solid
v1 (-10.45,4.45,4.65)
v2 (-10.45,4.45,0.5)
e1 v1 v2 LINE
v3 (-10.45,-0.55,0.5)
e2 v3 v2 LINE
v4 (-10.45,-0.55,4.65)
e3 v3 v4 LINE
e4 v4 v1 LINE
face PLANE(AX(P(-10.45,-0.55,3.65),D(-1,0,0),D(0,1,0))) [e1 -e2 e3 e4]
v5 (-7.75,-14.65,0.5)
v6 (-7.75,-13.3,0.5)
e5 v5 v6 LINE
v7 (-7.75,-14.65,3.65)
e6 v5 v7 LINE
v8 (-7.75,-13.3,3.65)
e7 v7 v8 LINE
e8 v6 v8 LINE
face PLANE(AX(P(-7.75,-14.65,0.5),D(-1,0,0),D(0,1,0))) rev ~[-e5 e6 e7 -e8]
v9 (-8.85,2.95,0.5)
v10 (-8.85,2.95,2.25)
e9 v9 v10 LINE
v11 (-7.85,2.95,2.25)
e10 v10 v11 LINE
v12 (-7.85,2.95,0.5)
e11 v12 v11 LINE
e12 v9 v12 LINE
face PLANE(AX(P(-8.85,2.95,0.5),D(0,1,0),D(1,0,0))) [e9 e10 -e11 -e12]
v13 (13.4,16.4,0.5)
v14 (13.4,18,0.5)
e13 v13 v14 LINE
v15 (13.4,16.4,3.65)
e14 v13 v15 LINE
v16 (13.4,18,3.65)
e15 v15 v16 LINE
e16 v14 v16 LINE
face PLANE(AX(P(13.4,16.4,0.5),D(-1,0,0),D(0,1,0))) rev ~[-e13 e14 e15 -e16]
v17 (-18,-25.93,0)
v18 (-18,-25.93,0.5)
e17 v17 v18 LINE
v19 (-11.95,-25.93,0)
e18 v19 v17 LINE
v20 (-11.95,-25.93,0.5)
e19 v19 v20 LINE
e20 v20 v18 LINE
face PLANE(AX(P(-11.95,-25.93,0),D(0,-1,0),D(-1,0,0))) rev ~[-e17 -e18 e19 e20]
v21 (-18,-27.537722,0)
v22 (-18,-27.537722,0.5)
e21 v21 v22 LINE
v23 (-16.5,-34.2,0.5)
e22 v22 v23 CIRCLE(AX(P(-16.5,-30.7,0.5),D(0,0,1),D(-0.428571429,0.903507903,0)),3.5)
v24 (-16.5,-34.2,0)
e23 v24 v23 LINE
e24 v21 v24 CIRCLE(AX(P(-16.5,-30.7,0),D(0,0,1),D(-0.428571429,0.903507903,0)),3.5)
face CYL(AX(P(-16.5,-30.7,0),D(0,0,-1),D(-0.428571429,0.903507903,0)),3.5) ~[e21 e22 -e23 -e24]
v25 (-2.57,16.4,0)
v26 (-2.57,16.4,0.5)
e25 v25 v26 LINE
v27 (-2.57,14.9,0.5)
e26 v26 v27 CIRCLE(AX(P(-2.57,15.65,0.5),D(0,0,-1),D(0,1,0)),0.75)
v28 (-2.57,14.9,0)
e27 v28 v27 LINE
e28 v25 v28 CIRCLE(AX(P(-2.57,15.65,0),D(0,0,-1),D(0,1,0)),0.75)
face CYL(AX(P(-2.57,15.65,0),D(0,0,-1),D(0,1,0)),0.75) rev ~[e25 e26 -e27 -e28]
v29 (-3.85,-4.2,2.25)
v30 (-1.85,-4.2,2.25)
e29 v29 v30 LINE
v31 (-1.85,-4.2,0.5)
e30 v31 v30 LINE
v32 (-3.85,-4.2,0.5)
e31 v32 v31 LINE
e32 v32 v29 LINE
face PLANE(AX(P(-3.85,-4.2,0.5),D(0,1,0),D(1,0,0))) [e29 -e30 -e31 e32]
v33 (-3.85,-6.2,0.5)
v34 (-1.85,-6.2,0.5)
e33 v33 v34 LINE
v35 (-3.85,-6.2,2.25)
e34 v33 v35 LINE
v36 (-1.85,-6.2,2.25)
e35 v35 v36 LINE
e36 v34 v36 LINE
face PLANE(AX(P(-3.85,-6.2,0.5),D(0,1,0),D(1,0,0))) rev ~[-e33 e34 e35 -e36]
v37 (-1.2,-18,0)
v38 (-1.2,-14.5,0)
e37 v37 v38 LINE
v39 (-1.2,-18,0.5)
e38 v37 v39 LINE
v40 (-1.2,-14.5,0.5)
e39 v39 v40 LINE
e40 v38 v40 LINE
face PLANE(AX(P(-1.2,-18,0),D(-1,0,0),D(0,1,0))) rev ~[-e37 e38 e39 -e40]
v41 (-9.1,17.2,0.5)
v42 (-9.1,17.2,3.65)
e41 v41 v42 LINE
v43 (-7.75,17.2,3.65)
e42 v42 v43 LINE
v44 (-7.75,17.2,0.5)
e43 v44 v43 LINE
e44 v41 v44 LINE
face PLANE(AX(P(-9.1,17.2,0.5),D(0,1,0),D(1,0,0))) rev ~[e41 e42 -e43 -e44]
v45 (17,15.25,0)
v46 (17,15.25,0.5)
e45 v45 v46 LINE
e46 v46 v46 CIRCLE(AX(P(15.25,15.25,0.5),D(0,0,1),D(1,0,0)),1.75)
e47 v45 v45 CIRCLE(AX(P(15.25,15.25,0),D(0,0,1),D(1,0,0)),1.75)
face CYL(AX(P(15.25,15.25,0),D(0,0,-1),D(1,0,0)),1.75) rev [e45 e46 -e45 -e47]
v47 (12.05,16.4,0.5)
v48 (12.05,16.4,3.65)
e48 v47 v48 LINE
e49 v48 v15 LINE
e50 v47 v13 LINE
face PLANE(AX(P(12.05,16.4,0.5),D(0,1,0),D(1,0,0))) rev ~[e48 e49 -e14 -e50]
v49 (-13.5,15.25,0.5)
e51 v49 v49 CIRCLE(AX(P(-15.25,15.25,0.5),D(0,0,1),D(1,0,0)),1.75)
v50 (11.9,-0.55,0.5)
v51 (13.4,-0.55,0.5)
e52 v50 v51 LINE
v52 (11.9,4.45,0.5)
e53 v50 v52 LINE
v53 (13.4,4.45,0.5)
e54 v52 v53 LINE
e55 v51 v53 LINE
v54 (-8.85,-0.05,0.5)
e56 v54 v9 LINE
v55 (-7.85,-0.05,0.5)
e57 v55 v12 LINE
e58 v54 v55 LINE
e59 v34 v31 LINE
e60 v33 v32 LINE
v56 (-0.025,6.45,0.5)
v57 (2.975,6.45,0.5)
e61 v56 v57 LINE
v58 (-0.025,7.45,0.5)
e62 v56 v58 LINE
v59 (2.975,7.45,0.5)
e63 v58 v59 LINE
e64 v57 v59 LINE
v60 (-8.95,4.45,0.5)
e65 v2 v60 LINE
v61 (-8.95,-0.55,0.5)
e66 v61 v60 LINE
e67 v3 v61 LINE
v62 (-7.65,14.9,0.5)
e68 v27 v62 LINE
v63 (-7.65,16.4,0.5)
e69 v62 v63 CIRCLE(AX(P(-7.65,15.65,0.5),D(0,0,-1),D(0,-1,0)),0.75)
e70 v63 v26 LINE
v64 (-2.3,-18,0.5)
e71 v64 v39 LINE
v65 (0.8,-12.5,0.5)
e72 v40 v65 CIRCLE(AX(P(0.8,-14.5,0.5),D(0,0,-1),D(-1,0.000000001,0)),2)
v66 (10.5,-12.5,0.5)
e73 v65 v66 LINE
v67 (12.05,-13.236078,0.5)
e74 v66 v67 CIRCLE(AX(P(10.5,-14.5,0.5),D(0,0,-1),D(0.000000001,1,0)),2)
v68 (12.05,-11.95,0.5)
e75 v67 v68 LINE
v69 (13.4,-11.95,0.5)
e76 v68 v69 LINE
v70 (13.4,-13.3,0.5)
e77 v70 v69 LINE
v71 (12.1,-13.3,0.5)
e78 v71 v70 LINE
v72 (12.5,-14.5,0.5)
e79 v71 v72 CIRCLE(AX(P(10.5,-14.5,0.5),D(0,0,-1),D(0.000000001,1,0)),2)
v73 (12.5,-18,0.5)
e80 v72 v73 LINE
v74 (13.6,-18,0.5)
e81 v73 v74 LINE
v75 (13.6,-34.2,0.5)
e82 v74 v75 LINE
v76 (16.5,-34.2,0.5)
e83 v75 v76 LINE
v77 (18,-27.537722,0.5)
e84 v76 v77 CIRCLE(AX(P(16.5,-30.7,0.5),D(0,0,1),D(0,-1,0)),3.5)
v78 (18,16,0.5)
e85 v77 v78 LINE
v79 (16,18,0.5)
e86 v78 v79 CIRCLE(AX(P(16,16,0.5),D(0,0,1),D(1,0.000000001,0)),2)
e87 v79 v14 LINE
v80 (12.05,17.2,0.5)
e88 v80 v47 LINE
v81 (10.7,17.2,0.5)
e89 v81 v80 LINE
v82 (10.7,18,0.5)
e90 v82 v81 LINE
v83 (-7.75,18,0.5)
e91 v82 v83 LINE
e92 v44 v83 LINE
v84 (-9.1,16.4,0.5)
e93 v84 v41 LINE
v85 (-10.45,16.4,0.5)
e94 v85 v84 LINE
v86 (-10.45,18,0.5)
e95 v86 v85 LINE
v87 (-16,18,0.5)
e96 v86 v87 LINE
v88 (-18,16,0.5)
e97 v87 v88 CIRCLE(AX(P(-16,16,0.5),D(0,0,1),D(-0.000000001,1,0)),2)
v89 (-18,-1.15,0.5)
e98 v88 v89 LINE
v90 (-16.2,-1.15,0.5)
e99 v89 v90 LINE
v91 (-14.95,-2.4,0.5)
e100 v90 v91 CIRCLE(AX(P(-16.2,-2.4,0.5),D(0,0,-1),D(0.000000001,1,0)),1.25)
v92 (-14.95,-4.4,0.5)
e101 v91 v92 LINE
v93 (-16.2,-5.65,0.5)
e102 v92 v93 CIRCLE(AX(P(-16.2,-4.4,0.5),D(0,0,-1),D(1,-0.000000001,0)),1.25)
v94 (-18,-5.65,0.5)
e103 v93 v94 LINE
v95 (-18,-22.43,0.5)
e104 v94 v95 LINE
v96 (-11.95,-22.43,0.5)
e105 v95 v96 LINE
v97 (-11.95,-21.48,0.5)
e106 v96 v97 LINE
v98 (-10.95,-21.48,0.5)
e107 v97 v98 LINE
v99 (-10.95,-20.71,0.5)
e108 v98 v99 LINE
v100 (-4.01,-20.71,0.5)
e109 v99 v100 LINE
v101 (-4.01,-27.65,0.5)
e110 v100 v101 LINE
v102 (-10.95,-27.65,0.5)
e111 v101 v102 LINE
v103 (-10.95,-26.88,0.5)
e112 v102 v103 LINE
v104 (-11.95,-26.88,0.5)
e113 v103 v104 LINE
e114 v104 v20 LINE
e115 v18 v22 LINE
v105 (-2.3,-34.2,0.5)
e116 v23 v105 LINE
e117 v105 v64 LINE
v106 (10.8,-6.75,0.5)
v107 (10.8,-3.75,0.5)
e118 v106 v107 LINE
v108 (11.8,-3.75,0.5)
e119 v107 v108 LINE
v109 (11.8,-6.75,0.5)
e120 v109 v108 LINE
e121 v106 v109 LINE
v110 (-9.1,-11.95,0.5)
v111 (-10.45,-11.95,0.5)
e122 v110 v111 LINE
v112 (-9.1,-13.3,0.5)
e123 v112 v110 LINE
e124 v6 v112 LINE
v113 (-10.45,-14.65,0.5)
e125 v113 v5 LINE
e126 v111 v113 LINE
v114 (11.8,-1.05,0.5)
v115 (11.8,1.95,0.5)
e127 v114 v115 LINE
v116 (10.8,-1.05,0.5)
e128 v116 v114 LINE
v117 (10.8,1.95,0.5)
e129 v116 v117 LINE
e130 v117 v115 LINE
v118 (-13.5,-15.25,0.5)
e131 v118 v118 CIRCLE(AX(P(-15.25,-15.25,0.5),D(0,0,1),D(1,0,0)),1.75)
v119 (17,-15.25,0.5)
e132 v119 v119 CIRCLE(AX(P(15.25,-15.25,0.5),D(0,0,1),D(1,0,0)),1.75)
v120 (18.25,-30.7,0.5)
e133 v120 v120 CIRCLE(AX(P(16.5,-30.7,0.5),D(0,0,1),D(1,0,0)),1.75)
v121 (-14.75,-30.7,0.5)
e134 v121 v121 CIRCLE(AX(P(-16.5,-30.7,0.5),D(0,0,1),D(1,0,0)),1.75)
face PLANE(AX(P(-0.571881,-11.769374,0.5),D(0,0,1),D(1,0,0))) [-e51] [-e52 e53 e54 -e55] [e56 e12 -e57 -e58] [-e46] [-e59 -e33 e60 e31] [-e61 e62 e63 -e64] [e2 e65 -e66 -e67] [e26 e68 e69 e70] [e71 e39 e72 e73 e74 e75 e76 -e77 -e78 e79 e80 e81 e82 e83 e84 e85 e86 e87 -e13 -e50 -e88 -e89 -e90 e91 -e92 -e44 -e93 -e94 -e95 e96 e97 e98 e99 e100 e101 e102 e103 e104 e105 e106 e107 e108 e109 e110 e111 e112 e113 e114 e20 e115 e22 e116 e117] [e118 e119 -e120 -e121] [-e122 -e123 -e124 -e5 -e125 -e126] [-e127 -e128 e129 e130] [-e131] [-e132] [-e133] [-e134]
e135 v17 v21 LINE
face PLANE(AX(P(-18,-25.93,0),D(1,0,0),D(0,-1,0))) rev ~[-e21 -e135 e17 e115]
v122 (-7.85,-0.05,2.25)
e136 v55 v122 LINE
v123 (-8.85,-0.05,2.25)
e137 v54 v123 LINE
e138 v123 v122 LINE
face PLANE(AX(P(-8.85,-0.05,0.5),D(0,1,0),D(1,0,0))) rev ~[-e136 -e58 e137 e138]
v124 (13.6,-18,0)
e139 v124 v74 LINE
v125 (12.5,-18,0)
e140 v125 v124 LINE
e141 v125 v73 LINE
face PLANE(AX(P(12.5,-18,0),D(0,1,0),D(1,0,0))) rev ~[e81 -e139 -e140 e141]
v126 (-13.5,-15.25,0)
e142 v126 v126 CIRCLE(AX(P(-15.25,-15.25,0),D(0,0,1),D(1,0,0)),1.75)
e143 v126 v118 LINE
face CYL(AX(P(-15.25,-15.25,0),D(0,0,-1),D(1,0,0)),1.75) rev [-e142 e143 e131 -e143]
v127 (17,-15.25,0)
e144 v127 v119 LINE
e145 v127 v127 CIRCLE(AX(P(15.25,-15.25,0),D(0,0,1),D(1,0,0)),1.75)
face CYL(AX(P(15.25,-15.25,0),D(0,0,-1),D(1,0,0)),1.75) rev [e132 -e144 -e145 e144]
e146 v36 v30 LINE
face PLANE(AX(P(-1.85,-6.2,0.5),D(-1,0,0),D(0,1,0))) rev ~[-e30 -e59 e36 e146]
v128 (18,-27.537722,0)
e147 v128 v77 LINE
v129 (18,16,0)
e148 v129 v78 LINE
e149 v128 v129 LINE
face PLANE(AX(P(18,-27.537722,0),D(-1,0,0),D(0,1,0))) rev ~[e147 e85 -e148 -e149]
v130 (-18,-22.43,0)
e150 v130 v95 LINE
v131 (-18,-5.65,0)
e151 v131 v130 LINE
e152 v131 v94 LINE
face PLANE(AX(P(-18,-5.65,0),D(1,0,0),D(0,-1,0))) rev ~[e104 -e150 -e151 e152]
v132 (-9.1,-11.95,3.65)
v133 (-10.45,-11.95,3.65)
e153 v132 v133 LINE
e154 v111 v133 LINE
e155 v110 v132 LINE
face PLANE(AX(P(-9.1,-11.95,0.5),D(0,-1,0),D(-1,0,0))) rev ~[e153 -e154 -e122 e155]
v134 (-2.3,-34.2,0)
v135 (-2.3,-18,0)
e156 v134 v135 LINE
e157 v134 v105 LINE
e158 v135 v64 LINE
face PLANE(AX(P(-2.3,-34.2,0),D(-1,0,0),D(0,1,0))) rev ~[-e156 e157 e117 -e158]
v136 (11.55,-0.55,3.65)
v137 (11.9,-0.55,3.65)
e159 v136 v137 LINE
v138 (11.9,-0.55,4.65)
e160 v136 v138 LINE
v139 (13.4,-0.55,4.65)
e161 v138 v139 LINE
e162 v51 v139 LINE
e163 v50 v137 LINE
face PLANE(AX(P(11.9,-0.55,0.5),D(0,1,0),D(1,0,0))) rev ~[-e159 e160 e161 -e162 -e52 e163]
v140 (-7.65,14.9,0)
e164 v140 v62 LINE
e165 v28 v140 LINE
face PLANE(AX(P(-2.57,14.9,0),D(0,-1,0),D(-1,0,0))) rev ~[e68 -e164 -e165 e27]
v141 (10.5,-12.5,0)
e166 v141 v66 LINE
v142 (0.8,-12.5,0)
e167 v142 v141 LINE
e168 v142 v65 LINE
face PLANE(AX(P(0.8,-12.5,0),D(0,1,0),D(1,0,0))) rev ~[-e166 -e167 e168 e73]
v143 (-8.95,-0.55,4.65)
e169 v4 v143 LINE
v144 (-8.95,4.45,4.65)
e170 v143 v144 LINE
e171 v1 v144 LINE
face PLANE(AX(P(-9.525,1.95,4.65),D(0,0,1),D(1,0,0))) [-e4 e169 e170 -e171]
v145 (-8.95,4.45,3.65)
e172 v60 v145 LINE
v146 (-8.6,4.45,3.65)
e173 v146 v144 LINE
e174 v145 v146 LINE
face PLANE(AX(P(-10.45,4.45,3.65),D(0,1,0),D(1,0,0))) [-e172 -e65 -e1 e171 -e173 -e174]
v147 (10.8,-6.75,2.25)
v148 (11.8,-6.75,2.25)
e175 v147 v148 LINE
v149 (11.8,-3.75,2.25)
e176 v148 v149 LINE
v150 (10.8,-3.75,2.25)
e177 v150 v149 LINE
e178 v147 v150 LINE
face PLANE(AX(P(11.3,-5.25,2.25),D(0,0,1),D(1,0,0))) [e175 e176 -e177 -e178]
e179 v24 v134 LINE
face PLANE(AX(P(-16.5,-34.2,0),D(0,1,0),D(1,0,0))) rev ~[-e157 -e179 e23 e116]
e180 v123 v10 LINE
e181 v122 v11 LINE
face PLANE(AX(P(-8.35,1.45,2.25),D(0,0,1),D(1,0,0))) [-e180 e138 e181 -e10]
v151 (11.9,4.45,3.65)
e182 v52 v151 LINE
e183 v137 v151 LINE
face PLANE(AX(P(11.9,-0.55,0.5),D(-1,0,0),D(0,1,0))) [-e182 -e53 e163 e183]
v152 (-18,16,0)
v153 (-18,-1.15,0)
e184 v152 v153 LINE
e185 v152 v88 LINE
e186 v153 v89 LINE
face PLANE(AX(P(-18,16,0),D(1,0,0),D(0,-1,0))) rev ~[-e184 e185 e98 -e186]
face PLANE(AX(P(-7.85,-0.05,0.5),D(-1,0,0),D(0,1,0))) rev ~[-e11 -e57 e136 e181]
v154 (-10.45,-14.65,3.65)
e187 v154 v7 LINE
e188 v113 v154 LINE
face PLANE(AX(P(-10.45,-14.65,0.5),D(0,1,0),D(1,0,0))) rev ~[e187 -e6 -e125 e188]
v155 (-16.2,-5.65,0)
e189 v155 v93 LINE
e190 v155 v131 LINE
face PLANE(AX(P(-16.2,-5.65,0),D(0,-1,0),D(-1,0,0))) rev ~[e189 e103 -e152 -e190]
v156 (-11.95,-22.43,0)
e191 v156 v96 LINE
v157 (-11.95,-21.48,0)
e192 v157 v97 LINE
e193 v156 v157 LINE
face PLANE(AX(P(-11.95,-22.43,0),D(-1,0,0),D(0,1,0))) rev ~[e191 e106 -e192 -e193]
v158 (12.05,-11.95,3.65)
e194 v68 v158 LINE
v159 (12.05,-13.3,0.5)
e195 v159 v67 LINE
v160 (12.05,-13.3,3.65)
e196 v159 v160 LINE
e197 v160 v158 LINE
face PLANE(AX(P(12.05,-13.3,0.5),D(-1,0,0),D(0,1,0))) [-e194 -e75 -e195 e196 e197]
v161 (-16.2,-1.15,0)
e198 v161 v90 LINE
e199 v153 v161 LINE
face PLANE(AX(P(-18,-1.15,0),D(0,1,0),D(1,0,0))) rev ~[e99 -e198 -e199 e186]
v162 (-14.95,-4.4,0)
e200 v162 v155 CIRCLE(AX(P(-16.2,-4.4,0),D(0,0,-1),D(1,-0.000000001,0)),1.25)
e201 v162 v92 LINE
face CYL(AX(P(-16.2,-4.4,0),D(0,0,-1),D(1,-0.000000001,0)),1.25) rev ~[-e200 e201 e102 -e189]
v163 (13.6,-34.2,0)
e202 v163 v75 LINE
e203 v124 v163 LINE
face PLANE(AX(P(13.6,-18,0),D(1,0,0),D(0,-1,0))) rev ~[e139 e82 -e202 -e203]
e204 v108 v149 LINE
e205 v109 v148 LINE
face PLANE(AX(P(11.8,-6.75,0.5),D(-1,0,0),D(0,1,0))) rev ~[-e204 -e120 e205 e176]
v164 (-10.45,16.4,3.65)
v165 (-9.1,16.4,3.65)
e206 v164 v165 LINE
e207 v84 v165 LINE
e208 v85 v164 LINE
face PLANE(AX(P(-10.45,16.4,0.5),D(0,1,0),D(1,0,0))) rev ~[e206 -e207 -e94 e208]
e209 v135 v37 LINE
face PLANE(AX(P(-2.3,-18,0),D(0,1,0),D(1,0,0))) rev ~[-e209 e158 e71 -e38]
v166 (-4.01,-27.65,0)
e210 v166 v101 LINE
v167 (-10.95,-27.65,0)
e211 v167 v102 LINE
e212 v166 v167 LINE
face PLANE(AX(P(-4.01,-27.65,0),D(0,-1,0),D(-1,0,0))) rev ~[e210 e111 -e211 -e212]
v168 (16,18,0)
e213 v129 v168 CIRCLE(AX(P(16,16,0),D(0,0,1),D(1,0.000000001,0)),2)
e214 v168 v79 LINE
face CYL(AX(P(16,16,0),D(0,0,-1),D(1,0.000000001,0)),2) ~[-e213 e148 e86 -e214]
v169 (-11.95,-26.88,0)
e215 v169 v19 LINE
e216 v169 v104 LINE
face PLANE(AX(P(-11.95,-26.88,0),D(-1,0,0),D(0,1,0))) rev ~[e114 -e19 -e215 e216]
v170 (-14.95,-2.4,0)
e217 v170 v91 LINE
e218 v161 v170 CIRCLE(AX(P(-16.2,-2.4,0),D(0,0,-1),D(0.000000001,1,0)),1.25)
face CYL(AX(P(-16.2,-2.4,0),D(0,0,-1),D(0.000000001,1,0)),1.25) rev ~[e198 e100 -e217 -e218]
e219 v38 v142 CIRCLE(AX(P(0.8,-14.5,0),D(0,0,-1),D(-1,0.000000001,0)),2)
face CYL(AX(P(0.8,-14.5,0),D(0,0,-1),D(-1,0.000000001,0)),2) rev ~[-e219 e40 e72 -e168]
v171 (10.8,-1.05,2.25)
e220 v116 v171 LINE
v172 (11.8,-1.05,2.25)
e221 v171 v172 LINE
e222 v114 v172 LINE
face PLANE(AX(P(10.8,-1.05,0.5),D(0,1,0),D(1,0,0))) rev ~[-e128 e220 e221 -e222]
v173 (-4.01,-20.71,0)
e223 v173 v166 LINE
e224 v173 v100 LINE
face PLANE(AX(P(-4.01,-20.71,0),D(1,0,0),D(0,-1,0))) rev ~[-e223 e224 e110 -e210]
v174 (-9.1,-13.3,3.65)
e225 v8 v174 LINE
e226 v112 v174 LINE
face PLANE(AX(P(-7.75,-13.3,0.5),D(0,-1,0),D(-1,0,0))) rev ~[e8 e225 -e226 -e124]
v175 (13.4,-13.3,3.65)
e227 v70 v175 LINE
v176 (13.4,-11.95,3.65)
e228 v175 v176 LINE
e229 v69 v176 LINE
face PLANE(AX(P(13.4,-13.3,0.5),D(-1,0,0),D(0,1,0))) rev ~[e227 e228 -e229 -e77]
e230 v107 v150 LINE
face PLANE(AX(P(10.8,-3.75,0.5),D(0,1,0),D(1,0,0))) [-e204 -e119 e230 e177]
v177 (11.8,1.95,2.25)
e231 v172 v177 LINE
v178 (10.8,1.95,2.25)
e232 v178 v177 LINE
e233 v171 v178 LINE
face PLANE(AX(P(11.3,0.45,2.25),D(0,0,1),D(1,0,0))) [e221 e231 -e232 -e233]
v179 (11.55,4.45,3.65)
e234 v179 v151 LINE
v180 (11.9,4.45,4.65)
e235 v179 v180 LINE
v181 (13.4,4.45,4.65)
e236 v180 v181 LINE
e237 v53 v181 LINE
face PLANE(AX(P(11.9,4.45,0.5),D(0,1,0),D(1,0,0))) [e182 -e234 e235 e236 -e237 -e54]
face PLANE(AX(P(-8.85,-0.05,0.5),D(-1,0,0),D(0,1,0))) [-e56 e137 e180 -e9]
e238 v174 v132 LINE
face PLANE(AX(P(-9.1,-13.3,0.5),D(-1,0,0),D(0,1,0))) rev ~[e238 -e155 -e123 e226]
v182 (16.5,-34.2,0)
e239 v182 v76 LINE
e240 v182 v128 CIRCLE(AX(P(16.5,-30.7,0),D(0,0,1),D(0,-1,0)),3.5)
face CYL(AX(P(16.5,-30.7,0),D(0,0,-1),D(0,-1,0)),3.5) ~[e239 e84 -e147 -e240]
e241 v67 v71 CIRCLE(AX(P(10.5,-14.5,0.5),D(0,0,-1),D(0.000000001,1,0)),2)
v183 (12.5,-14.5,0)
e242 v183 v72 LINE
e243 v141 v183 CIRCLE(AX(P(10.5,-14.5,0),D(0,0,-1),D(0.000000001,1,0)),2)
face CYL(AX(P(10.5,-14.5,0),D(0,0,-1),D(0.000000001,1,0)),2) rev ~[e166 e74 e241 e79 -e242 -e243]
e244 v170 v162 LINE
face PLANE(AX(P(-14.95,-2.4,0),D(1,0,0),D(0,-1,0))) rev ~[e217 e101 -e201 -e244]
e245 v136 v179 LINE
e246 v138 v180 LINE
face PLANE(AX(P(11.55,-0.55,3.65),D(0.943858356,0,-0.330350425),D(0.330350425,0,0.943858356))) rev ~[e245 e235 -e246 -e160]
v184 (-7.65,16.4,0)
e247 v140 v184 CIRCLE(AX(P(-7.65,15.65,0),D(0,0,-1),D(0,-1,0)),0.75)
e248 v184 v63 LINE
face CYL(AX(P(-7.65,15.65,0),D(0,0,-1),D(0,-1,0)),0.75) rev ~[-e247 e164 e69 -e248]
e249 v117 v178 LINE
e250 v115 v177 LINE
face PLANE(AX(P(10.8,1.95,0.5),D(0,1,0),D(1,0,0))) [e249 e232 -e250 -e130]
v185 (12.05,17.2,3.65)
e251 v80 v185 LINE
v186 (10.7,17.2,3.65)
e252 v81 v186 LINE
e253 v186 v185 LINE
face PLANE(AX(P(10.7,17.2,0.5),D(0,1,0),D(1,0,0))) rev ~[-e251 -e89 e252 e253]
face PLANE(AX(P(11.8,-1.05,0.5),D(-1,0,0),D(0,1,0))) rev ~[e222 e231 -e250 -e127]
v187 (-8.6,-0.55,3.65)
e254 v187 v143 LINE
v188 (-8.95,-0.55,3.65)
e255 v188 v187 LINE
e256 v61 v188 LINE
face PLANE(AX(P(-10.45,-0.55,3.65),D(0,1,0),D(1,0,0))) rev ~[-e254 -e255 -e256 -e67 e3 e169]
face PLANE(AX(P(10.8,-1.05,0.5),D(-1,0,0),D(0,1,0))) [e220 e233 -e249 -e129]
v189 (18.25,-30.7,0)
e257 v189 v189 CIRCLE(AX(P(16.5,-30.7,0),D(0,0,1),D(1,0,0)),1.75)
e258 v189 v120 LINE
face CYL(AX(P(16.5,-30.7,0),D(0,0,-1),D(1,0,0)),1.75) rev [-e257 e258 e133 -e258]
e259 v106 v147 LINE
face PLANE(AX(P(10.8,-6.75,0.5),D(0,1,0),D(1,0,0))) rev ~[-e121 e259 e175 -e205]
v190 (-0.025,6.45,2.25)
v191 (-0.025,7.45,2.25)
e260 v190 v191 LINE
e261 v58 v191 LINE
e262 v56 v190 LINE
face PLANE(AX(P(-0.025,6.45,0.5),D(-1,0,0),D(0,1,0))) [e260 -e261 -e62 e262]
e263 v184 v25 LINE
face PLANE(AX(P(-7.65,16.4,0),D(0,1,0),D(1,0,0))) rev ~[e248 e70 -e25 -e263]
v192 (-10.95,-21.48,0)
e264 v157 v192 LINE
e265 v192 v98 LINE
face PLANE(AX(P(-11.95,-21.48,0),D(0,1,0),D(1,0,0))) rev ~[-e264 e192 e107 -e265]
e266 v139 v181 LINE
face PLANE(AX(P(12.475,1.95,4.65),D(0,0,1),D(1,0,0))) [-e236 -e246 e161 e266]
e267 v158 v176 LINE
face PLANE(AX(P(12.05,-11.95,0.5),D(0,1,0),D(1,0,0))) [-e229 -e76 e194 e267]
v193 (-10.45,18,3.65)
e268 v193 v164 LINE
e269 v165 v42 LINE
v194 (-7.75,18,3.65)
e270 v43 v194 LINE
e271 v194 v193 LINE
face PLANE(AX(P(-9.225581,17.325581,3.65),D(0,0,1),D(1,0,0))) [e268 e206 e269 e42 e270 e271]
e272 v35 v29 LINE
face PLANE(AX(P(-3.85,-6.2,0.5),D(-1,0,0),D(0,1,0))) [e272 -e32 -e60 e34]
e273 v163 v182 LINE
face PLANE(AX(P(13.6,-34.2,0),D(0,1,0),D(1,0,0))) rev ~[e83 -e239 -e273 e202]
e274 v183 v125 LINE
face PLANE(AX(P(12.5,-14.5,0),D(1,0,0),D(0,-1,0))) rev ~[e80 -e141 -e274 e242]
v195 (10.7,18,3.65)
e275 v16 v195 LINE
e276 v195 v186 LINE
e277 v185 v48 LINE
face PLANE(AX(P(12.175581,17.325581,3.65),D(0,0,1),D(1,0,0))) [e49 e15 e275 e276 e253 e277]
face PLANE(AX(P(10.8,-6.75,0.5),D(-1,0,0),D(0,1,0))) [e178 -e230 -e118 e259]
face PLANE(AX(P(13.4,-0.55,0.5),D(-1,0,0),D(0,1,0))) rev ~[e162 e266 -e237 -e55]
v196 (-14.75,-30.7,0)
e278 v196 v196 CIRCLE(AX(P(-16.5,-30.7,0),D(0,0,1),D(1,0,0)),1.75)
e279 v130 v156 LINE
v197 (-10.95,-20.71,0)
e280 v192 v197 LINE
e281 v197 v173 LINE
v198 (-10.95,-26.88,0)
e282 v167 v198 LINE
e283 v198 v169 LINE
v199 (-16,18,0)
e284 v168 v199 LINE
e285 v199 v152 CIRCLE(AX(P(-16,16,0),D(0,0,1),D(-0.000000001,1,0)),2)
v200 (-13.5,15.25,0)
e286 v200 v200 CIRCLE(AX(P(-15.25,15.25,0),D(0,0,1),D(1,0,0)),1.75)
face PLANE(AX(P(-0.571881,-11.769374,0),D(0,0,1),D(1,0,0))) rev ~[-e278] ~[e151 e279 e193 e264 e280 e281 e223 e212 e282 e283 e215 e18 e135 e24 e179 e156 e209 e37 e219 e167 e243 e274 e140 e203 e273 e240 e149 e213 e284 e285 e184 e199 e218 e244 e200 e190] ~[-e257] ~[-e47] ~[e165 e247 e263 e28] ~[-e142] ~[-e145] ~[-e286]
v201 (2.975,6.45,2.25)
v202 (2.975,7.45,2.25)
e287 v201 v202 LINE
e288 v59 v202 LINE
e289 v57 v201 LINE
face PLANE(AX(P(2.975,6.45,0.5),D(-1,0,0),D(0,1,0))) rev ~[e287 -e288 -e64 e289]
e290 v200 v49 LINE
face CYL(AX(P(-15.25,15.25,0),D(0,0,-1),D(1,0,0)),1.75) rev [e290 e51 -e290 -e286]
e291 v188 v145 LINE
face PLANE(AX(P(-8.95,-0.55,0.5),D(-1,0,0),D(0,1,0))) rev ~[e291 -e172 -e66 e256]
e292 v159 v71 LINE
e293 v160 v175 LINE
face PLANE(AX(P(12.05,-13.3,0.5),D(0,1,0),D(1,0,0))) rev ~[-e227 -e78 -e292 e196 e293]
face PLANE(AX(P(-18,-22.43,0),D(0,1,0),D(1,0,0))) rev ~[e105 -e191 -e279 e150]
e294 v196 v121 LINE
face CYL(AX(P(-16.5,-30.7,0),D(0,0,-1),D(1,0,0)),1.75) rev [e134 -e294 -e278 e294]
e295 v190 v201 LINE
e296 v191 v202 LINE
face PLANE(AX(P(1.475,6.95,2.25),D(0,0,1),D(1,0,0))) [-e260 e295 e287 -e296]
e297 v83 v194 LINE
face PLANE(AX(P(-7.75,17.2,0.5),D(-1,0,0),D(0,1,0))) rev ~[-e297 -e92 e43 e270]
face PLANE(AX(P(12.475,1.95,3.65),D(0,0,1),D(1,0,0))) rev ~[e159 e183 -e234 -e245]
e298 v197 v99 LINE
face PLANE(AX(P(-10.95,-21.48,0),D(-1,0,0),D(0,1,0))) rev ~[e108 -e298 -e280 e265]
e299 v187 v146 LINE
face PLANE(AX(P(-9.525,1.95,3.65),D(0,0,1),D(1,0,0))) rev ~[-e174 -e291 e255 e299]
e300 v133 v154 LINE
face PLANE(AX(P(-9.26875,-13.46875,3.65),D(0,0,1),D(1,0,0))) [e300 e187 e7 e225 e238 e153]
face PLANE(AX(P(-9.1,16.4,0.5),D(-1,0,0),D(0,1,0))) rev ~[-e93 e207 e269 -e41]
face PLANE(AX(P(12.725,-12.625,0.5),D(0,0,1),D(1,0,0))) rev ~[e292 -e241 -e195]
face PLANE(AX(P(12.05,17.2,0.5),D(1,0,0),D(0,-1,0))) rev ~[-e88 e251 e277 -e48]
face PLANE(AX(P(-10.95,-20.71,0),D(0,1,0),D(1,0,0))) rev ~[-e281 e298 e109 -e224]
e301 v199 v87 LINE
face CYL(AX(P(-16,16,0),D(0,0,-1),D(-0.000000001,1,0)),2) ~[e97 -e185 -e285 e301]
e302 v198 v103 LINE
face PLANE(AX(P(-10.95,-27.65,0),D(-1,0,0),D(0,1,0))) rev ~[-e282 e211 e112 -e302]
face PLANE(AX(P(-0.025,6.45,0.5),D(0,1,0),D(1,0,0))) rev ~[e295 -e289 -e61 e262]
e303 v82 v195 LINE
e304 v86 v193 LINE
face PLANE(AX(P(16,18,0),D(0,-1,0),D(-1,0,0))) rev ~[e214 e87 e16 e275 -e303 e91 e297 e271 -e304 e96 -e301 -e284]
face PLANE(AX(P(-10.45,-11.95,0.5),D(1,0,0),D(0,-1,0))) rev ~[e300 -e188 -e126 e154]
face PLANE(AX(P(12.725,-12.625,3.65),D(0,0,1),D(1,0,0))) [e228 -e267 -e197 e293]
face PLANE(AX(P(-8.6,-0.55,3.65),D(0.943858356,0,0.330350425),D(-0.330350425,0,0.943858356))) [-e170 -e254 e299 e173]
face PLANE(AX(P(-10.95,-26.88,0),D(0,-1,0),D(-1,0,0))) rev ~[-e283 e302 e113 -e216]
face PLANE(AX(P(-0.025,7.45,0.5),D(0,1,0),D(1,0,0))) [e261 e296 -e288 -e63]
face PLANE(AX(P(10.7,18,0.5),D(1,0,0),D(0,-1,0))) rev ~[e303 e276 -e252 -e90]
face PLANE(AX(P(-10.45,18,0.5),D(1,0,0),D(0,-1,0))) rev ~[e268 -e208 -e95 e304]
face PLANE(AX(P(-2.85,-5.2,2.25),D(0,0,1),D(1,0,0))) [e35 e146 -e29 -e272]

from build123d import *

# Parameters (mm, degrees)
SKETCH1_R           = 1.75
BASE_SHAPE_DEPTH    = 0.5
SKETCH2_W           = 3
SKETCH2_H           = 1
SKETCH2_W_2         = 1
SKETCH2_H_2         = 3
SKETCH2_W_3         = 2
SKETCH2_H_3         = 2
RX_SUPPORTS_DEPTH   = 1.75
SKETCH3_W           = 1.5
SKETCH3_H           = 5
CLIP_BASE_DEPTH     = 3.15
SKETCH4_W           = 1.85
SKETCH4_H           = 5
CLIP_TOP_DEPTH      = 1
CLIP_CHAMFER_REACH  = 41.42
SKETCH6_W           = 1.35
SKETCH6_H           = 1.35
BOSS_EXTRUDE1_DEPTH = 3.15


with BuildPart() as part:
    # Sketch1 → Base shape (new body)
    with BuildSketch(Plane.XY):
        with BuildLine():
            Line((18, -27.53772234), (18, 16))
            ThreePointArc((18, 16), (17.414213562, 17.414213562), (16, 18))
            Line((16, 18), (-16, 18))
            ThreePointArc((-16, 18), (-17.414213562, 17.414213562), (-18, 16))
            Line((-18, 16), (-18, -1.15))
            Line((-18, -1.15), (-16.2, -1.15))
            ThreePointArc((-16.2, -1.15), (-15.316116524, -1.516116524), (-14.95, -2.4))
            Line((-14.95, -2.4), (-14.95, -4.4))
            ThreePointArc((-14.95, -4.4), (-15.316116524, -5.283883476), (-16.2, -5.65))
            Line((-16.2, -5.65), (-18, -5.65))
            Line((-18, -5.65), (-18, -22.43))
            Line((-18, -22.43), (-11.95, -22.43))
            Line((-11.95, -22.43), (-11.95, -21.48))
            Line((-11.95, -21.48), (-10.95, -21.48))
            Line((-10.95, -21.48), (-10.95, -20.71))
            Line((-10.95, -20.71), (-4.01, -20.71))
            Line((-4.01, -20.71), (-4.01, -27.65))
            Line((-4.01, -27.65), (-10.95, -27.65))
            Line((-10.95, -27.65), (-10.95, -26.88))
            Line((-10.95, -26.88), (-11.95, -26.88))
            Line((-11.95, -26.88), (-11.95, -25.93))
            Line((-11.95, -25.93), (-18, -25.93))
            Line((-18, -25.93), (-18, -27.53772234))
            ThreePointArc((-18, -27.53772234), (-19.914525722, -31.468774411), (-16.5, -34.2))
            Line((-16.5, -34.2), (-2.3, -34.2))
            Line((-2.3, -34.2), (-2.3, -18))
            Line((-2.3, -18), (-1.2, -18))
            Line((-1.2, -18), (-1.2, -14.5))
            ThreePointArc((-1.2, -14.5), (-0.614213562, -13.085786438), (0.8, -12.5))
            Line((0.8, -12.5), (10.5, -12.5))
            ThreePointArc((10.5, -12.5), (11.914213562, -13.085786438), (12.5, -14.5))
            Line((12.5, -14.5), (12.5, -18))
            Line((12.5, -18), (13.6, -18))
            Line((13.6, -18), (13.6, -34.2))
            Line((13.6, -34.2), (16.5, -34.2))
            ThreePointArc((16.5, -34.2), (19.914525722, -31.468774411), (18, -27.53772234))
        make_face()
        with Locations((16.5, -30.7)):
            Circle(SKETCH1_R, mode=Mode.SUBTRACT)
        with Locations((15.25, 15.25)):
            Circle(SKETCH1_R, mode=Mode.SUBTRACT)
        with Locations((-15.25, -15.25)):
            Circle(SKETCH1_R, mode=Mode.SUBTRACT)
        with Locations((15.25, -15.25)):
            Circle(SKETCH1_R, mode=Mode.SUBTRACT)
        with Locations((-15.25, 15.25)):
            Circle(SKETCH1_R, mode=Mode.SUBTRACT)
        with BuildLine():
            ThreePointArc((-7.65, 14.9), (-8.4, 15.65), (-7.65, 16.4))
            Line((-7.65, 16.4), (-2.57, 16.4))
            ThreePointArc((-2.57, 16.4), (-1.82, 15.65), (-2.57, 14.9))
            Line((-2.57, 14.9), (-7.65, 14.9))
        make_face(mode=Mode.SUBTRACT)
        with Locations((-16.5, -30.7)):
            Circle(SKETCH1_R, mode=Mode.SUBTRACT)
    extrude(amount=BASE_SHAPE_DEPTH)

    # Sketch2 → RX supports (add)
    with BuildSketch(Plane.XY.offset(0.5)):
        with Locations((1.475, 6.95)):
            Rectangle(SKETCH2_W, SKETCH2_H)
        with Locations((-8.35, 1.45)):
            Rectangle(SKETCH2_W_2, SKETCH2_H_2)
        with Locations((-2.85, -5.2)):
            Rectangle(SKETCH2_W_3, SKETCH2_H_3)
        with Locations((11.3, 0.45)):
            Rectangle(SKETCH2_W_2, SKETCH2_H_2)
        with Locations((11.3, -5.25)):
            Rectangle(SKETCH2_W_2, SKETCH2_H_2)
    extrude(amount=RX_SUPPORTS_DEPTH)

    # Sketch3 → Clip base (add)
    with BuildSketch(Plane.XY.offset(0.5)):
        with Locations((-9.7, 1.95)):
            Rectangle(SKETCH3_W, SKETCH3_H)
        with Locations((12.65, 1.95)):
            Rectangle(SKETCH3_W, SKETCH3_H)
    extrude(amount=CLIP_BASE_DEPTH)

    # Sketch4 → Clip top (add)
    with BuildSketch(Plane.XY.offset(3.65)):
        with Locations((-9.525, 1.95)):
            Rectangle(SKETCH4_W, SKETCH4_H)
        with Locations((12.475, 1.95)):
            Rectangle(SKETCH4_W, SKETCH4_H)
    extrude(amount=CLIP_TOP_DEPTH)

    # Sketch5 → Clip chamfer (cut, up to next)
    with BuildSketch(Plane.XZ.offset(0.55), mode=Mode.PRIVATE) as clip_chamfer_sk1:
        Polygon((-8.6, 3.65), (-8.95, 4.65), (-8.6, 4.65), align=None)
    clip_chamfer_tool1 = extrude(clip_chamfer_sk1.sketch, amount=-CLIP_CHAMFER_REACH, mode=Mode.PRIVATE) & part.part
    # Sketch5 → Clip chamfer (cut, up to next)
    with BuildSketch(Plane.XZ.offset(0.55), mode=Mode.PRIVATE) as clip_chamfer_sk2:
        Polygon((11.55, 3.65), (11.9, 4.65), (11.55, 4.65), align=None)
    clip_chamfer_tool2 = extrude(clip_chamfer_sk2.sketch, amount=-CLIP_CHAMFER_REACH, mode=Mode.PRIVATE) & part.part
    add(clip_chamfer_tool1.solids().sort_by_distance((-8.716667, -0.55, 4.316667))[0], mode=Mode.SUBTRACT)
    add(clip_chamfer_tool2.solids().sort_by_distance((11.666667, -0.55, 4.316667))[0], mode=Mode.SUBTRACT)

    # Sketch6 → Boss-Extrude1 (add)
    with BuildSketch(Plane.XY.offset(0.5)):
        Polygon((-9.1, 17.2), (-7.75, 17.2), (-7.75, 18), (-10.45, 18), (-10.45, 16.4), (-9.1, 16.4), align=None)
        Polygon((13.4, 18), (10.7, 18), (10.7, 17.2), (12.05, 17.2), (12.05, 16.4), (13.4, 16.4), align=None)
        with Locations((12.725, -12.625)):
            Rectangle(SKETCH6_W, SKETCH6_H)
        Polygon((-9.1, -13.3), (-9.1, -11.95), (-10.45, -11.95), (-10.45, -14.65), (-7.75, -14.65), (-7.75, -13.3), align=None)
    extrude(amount=BOSS_EXTRUDE1_DEPTH)


solid = part.part
